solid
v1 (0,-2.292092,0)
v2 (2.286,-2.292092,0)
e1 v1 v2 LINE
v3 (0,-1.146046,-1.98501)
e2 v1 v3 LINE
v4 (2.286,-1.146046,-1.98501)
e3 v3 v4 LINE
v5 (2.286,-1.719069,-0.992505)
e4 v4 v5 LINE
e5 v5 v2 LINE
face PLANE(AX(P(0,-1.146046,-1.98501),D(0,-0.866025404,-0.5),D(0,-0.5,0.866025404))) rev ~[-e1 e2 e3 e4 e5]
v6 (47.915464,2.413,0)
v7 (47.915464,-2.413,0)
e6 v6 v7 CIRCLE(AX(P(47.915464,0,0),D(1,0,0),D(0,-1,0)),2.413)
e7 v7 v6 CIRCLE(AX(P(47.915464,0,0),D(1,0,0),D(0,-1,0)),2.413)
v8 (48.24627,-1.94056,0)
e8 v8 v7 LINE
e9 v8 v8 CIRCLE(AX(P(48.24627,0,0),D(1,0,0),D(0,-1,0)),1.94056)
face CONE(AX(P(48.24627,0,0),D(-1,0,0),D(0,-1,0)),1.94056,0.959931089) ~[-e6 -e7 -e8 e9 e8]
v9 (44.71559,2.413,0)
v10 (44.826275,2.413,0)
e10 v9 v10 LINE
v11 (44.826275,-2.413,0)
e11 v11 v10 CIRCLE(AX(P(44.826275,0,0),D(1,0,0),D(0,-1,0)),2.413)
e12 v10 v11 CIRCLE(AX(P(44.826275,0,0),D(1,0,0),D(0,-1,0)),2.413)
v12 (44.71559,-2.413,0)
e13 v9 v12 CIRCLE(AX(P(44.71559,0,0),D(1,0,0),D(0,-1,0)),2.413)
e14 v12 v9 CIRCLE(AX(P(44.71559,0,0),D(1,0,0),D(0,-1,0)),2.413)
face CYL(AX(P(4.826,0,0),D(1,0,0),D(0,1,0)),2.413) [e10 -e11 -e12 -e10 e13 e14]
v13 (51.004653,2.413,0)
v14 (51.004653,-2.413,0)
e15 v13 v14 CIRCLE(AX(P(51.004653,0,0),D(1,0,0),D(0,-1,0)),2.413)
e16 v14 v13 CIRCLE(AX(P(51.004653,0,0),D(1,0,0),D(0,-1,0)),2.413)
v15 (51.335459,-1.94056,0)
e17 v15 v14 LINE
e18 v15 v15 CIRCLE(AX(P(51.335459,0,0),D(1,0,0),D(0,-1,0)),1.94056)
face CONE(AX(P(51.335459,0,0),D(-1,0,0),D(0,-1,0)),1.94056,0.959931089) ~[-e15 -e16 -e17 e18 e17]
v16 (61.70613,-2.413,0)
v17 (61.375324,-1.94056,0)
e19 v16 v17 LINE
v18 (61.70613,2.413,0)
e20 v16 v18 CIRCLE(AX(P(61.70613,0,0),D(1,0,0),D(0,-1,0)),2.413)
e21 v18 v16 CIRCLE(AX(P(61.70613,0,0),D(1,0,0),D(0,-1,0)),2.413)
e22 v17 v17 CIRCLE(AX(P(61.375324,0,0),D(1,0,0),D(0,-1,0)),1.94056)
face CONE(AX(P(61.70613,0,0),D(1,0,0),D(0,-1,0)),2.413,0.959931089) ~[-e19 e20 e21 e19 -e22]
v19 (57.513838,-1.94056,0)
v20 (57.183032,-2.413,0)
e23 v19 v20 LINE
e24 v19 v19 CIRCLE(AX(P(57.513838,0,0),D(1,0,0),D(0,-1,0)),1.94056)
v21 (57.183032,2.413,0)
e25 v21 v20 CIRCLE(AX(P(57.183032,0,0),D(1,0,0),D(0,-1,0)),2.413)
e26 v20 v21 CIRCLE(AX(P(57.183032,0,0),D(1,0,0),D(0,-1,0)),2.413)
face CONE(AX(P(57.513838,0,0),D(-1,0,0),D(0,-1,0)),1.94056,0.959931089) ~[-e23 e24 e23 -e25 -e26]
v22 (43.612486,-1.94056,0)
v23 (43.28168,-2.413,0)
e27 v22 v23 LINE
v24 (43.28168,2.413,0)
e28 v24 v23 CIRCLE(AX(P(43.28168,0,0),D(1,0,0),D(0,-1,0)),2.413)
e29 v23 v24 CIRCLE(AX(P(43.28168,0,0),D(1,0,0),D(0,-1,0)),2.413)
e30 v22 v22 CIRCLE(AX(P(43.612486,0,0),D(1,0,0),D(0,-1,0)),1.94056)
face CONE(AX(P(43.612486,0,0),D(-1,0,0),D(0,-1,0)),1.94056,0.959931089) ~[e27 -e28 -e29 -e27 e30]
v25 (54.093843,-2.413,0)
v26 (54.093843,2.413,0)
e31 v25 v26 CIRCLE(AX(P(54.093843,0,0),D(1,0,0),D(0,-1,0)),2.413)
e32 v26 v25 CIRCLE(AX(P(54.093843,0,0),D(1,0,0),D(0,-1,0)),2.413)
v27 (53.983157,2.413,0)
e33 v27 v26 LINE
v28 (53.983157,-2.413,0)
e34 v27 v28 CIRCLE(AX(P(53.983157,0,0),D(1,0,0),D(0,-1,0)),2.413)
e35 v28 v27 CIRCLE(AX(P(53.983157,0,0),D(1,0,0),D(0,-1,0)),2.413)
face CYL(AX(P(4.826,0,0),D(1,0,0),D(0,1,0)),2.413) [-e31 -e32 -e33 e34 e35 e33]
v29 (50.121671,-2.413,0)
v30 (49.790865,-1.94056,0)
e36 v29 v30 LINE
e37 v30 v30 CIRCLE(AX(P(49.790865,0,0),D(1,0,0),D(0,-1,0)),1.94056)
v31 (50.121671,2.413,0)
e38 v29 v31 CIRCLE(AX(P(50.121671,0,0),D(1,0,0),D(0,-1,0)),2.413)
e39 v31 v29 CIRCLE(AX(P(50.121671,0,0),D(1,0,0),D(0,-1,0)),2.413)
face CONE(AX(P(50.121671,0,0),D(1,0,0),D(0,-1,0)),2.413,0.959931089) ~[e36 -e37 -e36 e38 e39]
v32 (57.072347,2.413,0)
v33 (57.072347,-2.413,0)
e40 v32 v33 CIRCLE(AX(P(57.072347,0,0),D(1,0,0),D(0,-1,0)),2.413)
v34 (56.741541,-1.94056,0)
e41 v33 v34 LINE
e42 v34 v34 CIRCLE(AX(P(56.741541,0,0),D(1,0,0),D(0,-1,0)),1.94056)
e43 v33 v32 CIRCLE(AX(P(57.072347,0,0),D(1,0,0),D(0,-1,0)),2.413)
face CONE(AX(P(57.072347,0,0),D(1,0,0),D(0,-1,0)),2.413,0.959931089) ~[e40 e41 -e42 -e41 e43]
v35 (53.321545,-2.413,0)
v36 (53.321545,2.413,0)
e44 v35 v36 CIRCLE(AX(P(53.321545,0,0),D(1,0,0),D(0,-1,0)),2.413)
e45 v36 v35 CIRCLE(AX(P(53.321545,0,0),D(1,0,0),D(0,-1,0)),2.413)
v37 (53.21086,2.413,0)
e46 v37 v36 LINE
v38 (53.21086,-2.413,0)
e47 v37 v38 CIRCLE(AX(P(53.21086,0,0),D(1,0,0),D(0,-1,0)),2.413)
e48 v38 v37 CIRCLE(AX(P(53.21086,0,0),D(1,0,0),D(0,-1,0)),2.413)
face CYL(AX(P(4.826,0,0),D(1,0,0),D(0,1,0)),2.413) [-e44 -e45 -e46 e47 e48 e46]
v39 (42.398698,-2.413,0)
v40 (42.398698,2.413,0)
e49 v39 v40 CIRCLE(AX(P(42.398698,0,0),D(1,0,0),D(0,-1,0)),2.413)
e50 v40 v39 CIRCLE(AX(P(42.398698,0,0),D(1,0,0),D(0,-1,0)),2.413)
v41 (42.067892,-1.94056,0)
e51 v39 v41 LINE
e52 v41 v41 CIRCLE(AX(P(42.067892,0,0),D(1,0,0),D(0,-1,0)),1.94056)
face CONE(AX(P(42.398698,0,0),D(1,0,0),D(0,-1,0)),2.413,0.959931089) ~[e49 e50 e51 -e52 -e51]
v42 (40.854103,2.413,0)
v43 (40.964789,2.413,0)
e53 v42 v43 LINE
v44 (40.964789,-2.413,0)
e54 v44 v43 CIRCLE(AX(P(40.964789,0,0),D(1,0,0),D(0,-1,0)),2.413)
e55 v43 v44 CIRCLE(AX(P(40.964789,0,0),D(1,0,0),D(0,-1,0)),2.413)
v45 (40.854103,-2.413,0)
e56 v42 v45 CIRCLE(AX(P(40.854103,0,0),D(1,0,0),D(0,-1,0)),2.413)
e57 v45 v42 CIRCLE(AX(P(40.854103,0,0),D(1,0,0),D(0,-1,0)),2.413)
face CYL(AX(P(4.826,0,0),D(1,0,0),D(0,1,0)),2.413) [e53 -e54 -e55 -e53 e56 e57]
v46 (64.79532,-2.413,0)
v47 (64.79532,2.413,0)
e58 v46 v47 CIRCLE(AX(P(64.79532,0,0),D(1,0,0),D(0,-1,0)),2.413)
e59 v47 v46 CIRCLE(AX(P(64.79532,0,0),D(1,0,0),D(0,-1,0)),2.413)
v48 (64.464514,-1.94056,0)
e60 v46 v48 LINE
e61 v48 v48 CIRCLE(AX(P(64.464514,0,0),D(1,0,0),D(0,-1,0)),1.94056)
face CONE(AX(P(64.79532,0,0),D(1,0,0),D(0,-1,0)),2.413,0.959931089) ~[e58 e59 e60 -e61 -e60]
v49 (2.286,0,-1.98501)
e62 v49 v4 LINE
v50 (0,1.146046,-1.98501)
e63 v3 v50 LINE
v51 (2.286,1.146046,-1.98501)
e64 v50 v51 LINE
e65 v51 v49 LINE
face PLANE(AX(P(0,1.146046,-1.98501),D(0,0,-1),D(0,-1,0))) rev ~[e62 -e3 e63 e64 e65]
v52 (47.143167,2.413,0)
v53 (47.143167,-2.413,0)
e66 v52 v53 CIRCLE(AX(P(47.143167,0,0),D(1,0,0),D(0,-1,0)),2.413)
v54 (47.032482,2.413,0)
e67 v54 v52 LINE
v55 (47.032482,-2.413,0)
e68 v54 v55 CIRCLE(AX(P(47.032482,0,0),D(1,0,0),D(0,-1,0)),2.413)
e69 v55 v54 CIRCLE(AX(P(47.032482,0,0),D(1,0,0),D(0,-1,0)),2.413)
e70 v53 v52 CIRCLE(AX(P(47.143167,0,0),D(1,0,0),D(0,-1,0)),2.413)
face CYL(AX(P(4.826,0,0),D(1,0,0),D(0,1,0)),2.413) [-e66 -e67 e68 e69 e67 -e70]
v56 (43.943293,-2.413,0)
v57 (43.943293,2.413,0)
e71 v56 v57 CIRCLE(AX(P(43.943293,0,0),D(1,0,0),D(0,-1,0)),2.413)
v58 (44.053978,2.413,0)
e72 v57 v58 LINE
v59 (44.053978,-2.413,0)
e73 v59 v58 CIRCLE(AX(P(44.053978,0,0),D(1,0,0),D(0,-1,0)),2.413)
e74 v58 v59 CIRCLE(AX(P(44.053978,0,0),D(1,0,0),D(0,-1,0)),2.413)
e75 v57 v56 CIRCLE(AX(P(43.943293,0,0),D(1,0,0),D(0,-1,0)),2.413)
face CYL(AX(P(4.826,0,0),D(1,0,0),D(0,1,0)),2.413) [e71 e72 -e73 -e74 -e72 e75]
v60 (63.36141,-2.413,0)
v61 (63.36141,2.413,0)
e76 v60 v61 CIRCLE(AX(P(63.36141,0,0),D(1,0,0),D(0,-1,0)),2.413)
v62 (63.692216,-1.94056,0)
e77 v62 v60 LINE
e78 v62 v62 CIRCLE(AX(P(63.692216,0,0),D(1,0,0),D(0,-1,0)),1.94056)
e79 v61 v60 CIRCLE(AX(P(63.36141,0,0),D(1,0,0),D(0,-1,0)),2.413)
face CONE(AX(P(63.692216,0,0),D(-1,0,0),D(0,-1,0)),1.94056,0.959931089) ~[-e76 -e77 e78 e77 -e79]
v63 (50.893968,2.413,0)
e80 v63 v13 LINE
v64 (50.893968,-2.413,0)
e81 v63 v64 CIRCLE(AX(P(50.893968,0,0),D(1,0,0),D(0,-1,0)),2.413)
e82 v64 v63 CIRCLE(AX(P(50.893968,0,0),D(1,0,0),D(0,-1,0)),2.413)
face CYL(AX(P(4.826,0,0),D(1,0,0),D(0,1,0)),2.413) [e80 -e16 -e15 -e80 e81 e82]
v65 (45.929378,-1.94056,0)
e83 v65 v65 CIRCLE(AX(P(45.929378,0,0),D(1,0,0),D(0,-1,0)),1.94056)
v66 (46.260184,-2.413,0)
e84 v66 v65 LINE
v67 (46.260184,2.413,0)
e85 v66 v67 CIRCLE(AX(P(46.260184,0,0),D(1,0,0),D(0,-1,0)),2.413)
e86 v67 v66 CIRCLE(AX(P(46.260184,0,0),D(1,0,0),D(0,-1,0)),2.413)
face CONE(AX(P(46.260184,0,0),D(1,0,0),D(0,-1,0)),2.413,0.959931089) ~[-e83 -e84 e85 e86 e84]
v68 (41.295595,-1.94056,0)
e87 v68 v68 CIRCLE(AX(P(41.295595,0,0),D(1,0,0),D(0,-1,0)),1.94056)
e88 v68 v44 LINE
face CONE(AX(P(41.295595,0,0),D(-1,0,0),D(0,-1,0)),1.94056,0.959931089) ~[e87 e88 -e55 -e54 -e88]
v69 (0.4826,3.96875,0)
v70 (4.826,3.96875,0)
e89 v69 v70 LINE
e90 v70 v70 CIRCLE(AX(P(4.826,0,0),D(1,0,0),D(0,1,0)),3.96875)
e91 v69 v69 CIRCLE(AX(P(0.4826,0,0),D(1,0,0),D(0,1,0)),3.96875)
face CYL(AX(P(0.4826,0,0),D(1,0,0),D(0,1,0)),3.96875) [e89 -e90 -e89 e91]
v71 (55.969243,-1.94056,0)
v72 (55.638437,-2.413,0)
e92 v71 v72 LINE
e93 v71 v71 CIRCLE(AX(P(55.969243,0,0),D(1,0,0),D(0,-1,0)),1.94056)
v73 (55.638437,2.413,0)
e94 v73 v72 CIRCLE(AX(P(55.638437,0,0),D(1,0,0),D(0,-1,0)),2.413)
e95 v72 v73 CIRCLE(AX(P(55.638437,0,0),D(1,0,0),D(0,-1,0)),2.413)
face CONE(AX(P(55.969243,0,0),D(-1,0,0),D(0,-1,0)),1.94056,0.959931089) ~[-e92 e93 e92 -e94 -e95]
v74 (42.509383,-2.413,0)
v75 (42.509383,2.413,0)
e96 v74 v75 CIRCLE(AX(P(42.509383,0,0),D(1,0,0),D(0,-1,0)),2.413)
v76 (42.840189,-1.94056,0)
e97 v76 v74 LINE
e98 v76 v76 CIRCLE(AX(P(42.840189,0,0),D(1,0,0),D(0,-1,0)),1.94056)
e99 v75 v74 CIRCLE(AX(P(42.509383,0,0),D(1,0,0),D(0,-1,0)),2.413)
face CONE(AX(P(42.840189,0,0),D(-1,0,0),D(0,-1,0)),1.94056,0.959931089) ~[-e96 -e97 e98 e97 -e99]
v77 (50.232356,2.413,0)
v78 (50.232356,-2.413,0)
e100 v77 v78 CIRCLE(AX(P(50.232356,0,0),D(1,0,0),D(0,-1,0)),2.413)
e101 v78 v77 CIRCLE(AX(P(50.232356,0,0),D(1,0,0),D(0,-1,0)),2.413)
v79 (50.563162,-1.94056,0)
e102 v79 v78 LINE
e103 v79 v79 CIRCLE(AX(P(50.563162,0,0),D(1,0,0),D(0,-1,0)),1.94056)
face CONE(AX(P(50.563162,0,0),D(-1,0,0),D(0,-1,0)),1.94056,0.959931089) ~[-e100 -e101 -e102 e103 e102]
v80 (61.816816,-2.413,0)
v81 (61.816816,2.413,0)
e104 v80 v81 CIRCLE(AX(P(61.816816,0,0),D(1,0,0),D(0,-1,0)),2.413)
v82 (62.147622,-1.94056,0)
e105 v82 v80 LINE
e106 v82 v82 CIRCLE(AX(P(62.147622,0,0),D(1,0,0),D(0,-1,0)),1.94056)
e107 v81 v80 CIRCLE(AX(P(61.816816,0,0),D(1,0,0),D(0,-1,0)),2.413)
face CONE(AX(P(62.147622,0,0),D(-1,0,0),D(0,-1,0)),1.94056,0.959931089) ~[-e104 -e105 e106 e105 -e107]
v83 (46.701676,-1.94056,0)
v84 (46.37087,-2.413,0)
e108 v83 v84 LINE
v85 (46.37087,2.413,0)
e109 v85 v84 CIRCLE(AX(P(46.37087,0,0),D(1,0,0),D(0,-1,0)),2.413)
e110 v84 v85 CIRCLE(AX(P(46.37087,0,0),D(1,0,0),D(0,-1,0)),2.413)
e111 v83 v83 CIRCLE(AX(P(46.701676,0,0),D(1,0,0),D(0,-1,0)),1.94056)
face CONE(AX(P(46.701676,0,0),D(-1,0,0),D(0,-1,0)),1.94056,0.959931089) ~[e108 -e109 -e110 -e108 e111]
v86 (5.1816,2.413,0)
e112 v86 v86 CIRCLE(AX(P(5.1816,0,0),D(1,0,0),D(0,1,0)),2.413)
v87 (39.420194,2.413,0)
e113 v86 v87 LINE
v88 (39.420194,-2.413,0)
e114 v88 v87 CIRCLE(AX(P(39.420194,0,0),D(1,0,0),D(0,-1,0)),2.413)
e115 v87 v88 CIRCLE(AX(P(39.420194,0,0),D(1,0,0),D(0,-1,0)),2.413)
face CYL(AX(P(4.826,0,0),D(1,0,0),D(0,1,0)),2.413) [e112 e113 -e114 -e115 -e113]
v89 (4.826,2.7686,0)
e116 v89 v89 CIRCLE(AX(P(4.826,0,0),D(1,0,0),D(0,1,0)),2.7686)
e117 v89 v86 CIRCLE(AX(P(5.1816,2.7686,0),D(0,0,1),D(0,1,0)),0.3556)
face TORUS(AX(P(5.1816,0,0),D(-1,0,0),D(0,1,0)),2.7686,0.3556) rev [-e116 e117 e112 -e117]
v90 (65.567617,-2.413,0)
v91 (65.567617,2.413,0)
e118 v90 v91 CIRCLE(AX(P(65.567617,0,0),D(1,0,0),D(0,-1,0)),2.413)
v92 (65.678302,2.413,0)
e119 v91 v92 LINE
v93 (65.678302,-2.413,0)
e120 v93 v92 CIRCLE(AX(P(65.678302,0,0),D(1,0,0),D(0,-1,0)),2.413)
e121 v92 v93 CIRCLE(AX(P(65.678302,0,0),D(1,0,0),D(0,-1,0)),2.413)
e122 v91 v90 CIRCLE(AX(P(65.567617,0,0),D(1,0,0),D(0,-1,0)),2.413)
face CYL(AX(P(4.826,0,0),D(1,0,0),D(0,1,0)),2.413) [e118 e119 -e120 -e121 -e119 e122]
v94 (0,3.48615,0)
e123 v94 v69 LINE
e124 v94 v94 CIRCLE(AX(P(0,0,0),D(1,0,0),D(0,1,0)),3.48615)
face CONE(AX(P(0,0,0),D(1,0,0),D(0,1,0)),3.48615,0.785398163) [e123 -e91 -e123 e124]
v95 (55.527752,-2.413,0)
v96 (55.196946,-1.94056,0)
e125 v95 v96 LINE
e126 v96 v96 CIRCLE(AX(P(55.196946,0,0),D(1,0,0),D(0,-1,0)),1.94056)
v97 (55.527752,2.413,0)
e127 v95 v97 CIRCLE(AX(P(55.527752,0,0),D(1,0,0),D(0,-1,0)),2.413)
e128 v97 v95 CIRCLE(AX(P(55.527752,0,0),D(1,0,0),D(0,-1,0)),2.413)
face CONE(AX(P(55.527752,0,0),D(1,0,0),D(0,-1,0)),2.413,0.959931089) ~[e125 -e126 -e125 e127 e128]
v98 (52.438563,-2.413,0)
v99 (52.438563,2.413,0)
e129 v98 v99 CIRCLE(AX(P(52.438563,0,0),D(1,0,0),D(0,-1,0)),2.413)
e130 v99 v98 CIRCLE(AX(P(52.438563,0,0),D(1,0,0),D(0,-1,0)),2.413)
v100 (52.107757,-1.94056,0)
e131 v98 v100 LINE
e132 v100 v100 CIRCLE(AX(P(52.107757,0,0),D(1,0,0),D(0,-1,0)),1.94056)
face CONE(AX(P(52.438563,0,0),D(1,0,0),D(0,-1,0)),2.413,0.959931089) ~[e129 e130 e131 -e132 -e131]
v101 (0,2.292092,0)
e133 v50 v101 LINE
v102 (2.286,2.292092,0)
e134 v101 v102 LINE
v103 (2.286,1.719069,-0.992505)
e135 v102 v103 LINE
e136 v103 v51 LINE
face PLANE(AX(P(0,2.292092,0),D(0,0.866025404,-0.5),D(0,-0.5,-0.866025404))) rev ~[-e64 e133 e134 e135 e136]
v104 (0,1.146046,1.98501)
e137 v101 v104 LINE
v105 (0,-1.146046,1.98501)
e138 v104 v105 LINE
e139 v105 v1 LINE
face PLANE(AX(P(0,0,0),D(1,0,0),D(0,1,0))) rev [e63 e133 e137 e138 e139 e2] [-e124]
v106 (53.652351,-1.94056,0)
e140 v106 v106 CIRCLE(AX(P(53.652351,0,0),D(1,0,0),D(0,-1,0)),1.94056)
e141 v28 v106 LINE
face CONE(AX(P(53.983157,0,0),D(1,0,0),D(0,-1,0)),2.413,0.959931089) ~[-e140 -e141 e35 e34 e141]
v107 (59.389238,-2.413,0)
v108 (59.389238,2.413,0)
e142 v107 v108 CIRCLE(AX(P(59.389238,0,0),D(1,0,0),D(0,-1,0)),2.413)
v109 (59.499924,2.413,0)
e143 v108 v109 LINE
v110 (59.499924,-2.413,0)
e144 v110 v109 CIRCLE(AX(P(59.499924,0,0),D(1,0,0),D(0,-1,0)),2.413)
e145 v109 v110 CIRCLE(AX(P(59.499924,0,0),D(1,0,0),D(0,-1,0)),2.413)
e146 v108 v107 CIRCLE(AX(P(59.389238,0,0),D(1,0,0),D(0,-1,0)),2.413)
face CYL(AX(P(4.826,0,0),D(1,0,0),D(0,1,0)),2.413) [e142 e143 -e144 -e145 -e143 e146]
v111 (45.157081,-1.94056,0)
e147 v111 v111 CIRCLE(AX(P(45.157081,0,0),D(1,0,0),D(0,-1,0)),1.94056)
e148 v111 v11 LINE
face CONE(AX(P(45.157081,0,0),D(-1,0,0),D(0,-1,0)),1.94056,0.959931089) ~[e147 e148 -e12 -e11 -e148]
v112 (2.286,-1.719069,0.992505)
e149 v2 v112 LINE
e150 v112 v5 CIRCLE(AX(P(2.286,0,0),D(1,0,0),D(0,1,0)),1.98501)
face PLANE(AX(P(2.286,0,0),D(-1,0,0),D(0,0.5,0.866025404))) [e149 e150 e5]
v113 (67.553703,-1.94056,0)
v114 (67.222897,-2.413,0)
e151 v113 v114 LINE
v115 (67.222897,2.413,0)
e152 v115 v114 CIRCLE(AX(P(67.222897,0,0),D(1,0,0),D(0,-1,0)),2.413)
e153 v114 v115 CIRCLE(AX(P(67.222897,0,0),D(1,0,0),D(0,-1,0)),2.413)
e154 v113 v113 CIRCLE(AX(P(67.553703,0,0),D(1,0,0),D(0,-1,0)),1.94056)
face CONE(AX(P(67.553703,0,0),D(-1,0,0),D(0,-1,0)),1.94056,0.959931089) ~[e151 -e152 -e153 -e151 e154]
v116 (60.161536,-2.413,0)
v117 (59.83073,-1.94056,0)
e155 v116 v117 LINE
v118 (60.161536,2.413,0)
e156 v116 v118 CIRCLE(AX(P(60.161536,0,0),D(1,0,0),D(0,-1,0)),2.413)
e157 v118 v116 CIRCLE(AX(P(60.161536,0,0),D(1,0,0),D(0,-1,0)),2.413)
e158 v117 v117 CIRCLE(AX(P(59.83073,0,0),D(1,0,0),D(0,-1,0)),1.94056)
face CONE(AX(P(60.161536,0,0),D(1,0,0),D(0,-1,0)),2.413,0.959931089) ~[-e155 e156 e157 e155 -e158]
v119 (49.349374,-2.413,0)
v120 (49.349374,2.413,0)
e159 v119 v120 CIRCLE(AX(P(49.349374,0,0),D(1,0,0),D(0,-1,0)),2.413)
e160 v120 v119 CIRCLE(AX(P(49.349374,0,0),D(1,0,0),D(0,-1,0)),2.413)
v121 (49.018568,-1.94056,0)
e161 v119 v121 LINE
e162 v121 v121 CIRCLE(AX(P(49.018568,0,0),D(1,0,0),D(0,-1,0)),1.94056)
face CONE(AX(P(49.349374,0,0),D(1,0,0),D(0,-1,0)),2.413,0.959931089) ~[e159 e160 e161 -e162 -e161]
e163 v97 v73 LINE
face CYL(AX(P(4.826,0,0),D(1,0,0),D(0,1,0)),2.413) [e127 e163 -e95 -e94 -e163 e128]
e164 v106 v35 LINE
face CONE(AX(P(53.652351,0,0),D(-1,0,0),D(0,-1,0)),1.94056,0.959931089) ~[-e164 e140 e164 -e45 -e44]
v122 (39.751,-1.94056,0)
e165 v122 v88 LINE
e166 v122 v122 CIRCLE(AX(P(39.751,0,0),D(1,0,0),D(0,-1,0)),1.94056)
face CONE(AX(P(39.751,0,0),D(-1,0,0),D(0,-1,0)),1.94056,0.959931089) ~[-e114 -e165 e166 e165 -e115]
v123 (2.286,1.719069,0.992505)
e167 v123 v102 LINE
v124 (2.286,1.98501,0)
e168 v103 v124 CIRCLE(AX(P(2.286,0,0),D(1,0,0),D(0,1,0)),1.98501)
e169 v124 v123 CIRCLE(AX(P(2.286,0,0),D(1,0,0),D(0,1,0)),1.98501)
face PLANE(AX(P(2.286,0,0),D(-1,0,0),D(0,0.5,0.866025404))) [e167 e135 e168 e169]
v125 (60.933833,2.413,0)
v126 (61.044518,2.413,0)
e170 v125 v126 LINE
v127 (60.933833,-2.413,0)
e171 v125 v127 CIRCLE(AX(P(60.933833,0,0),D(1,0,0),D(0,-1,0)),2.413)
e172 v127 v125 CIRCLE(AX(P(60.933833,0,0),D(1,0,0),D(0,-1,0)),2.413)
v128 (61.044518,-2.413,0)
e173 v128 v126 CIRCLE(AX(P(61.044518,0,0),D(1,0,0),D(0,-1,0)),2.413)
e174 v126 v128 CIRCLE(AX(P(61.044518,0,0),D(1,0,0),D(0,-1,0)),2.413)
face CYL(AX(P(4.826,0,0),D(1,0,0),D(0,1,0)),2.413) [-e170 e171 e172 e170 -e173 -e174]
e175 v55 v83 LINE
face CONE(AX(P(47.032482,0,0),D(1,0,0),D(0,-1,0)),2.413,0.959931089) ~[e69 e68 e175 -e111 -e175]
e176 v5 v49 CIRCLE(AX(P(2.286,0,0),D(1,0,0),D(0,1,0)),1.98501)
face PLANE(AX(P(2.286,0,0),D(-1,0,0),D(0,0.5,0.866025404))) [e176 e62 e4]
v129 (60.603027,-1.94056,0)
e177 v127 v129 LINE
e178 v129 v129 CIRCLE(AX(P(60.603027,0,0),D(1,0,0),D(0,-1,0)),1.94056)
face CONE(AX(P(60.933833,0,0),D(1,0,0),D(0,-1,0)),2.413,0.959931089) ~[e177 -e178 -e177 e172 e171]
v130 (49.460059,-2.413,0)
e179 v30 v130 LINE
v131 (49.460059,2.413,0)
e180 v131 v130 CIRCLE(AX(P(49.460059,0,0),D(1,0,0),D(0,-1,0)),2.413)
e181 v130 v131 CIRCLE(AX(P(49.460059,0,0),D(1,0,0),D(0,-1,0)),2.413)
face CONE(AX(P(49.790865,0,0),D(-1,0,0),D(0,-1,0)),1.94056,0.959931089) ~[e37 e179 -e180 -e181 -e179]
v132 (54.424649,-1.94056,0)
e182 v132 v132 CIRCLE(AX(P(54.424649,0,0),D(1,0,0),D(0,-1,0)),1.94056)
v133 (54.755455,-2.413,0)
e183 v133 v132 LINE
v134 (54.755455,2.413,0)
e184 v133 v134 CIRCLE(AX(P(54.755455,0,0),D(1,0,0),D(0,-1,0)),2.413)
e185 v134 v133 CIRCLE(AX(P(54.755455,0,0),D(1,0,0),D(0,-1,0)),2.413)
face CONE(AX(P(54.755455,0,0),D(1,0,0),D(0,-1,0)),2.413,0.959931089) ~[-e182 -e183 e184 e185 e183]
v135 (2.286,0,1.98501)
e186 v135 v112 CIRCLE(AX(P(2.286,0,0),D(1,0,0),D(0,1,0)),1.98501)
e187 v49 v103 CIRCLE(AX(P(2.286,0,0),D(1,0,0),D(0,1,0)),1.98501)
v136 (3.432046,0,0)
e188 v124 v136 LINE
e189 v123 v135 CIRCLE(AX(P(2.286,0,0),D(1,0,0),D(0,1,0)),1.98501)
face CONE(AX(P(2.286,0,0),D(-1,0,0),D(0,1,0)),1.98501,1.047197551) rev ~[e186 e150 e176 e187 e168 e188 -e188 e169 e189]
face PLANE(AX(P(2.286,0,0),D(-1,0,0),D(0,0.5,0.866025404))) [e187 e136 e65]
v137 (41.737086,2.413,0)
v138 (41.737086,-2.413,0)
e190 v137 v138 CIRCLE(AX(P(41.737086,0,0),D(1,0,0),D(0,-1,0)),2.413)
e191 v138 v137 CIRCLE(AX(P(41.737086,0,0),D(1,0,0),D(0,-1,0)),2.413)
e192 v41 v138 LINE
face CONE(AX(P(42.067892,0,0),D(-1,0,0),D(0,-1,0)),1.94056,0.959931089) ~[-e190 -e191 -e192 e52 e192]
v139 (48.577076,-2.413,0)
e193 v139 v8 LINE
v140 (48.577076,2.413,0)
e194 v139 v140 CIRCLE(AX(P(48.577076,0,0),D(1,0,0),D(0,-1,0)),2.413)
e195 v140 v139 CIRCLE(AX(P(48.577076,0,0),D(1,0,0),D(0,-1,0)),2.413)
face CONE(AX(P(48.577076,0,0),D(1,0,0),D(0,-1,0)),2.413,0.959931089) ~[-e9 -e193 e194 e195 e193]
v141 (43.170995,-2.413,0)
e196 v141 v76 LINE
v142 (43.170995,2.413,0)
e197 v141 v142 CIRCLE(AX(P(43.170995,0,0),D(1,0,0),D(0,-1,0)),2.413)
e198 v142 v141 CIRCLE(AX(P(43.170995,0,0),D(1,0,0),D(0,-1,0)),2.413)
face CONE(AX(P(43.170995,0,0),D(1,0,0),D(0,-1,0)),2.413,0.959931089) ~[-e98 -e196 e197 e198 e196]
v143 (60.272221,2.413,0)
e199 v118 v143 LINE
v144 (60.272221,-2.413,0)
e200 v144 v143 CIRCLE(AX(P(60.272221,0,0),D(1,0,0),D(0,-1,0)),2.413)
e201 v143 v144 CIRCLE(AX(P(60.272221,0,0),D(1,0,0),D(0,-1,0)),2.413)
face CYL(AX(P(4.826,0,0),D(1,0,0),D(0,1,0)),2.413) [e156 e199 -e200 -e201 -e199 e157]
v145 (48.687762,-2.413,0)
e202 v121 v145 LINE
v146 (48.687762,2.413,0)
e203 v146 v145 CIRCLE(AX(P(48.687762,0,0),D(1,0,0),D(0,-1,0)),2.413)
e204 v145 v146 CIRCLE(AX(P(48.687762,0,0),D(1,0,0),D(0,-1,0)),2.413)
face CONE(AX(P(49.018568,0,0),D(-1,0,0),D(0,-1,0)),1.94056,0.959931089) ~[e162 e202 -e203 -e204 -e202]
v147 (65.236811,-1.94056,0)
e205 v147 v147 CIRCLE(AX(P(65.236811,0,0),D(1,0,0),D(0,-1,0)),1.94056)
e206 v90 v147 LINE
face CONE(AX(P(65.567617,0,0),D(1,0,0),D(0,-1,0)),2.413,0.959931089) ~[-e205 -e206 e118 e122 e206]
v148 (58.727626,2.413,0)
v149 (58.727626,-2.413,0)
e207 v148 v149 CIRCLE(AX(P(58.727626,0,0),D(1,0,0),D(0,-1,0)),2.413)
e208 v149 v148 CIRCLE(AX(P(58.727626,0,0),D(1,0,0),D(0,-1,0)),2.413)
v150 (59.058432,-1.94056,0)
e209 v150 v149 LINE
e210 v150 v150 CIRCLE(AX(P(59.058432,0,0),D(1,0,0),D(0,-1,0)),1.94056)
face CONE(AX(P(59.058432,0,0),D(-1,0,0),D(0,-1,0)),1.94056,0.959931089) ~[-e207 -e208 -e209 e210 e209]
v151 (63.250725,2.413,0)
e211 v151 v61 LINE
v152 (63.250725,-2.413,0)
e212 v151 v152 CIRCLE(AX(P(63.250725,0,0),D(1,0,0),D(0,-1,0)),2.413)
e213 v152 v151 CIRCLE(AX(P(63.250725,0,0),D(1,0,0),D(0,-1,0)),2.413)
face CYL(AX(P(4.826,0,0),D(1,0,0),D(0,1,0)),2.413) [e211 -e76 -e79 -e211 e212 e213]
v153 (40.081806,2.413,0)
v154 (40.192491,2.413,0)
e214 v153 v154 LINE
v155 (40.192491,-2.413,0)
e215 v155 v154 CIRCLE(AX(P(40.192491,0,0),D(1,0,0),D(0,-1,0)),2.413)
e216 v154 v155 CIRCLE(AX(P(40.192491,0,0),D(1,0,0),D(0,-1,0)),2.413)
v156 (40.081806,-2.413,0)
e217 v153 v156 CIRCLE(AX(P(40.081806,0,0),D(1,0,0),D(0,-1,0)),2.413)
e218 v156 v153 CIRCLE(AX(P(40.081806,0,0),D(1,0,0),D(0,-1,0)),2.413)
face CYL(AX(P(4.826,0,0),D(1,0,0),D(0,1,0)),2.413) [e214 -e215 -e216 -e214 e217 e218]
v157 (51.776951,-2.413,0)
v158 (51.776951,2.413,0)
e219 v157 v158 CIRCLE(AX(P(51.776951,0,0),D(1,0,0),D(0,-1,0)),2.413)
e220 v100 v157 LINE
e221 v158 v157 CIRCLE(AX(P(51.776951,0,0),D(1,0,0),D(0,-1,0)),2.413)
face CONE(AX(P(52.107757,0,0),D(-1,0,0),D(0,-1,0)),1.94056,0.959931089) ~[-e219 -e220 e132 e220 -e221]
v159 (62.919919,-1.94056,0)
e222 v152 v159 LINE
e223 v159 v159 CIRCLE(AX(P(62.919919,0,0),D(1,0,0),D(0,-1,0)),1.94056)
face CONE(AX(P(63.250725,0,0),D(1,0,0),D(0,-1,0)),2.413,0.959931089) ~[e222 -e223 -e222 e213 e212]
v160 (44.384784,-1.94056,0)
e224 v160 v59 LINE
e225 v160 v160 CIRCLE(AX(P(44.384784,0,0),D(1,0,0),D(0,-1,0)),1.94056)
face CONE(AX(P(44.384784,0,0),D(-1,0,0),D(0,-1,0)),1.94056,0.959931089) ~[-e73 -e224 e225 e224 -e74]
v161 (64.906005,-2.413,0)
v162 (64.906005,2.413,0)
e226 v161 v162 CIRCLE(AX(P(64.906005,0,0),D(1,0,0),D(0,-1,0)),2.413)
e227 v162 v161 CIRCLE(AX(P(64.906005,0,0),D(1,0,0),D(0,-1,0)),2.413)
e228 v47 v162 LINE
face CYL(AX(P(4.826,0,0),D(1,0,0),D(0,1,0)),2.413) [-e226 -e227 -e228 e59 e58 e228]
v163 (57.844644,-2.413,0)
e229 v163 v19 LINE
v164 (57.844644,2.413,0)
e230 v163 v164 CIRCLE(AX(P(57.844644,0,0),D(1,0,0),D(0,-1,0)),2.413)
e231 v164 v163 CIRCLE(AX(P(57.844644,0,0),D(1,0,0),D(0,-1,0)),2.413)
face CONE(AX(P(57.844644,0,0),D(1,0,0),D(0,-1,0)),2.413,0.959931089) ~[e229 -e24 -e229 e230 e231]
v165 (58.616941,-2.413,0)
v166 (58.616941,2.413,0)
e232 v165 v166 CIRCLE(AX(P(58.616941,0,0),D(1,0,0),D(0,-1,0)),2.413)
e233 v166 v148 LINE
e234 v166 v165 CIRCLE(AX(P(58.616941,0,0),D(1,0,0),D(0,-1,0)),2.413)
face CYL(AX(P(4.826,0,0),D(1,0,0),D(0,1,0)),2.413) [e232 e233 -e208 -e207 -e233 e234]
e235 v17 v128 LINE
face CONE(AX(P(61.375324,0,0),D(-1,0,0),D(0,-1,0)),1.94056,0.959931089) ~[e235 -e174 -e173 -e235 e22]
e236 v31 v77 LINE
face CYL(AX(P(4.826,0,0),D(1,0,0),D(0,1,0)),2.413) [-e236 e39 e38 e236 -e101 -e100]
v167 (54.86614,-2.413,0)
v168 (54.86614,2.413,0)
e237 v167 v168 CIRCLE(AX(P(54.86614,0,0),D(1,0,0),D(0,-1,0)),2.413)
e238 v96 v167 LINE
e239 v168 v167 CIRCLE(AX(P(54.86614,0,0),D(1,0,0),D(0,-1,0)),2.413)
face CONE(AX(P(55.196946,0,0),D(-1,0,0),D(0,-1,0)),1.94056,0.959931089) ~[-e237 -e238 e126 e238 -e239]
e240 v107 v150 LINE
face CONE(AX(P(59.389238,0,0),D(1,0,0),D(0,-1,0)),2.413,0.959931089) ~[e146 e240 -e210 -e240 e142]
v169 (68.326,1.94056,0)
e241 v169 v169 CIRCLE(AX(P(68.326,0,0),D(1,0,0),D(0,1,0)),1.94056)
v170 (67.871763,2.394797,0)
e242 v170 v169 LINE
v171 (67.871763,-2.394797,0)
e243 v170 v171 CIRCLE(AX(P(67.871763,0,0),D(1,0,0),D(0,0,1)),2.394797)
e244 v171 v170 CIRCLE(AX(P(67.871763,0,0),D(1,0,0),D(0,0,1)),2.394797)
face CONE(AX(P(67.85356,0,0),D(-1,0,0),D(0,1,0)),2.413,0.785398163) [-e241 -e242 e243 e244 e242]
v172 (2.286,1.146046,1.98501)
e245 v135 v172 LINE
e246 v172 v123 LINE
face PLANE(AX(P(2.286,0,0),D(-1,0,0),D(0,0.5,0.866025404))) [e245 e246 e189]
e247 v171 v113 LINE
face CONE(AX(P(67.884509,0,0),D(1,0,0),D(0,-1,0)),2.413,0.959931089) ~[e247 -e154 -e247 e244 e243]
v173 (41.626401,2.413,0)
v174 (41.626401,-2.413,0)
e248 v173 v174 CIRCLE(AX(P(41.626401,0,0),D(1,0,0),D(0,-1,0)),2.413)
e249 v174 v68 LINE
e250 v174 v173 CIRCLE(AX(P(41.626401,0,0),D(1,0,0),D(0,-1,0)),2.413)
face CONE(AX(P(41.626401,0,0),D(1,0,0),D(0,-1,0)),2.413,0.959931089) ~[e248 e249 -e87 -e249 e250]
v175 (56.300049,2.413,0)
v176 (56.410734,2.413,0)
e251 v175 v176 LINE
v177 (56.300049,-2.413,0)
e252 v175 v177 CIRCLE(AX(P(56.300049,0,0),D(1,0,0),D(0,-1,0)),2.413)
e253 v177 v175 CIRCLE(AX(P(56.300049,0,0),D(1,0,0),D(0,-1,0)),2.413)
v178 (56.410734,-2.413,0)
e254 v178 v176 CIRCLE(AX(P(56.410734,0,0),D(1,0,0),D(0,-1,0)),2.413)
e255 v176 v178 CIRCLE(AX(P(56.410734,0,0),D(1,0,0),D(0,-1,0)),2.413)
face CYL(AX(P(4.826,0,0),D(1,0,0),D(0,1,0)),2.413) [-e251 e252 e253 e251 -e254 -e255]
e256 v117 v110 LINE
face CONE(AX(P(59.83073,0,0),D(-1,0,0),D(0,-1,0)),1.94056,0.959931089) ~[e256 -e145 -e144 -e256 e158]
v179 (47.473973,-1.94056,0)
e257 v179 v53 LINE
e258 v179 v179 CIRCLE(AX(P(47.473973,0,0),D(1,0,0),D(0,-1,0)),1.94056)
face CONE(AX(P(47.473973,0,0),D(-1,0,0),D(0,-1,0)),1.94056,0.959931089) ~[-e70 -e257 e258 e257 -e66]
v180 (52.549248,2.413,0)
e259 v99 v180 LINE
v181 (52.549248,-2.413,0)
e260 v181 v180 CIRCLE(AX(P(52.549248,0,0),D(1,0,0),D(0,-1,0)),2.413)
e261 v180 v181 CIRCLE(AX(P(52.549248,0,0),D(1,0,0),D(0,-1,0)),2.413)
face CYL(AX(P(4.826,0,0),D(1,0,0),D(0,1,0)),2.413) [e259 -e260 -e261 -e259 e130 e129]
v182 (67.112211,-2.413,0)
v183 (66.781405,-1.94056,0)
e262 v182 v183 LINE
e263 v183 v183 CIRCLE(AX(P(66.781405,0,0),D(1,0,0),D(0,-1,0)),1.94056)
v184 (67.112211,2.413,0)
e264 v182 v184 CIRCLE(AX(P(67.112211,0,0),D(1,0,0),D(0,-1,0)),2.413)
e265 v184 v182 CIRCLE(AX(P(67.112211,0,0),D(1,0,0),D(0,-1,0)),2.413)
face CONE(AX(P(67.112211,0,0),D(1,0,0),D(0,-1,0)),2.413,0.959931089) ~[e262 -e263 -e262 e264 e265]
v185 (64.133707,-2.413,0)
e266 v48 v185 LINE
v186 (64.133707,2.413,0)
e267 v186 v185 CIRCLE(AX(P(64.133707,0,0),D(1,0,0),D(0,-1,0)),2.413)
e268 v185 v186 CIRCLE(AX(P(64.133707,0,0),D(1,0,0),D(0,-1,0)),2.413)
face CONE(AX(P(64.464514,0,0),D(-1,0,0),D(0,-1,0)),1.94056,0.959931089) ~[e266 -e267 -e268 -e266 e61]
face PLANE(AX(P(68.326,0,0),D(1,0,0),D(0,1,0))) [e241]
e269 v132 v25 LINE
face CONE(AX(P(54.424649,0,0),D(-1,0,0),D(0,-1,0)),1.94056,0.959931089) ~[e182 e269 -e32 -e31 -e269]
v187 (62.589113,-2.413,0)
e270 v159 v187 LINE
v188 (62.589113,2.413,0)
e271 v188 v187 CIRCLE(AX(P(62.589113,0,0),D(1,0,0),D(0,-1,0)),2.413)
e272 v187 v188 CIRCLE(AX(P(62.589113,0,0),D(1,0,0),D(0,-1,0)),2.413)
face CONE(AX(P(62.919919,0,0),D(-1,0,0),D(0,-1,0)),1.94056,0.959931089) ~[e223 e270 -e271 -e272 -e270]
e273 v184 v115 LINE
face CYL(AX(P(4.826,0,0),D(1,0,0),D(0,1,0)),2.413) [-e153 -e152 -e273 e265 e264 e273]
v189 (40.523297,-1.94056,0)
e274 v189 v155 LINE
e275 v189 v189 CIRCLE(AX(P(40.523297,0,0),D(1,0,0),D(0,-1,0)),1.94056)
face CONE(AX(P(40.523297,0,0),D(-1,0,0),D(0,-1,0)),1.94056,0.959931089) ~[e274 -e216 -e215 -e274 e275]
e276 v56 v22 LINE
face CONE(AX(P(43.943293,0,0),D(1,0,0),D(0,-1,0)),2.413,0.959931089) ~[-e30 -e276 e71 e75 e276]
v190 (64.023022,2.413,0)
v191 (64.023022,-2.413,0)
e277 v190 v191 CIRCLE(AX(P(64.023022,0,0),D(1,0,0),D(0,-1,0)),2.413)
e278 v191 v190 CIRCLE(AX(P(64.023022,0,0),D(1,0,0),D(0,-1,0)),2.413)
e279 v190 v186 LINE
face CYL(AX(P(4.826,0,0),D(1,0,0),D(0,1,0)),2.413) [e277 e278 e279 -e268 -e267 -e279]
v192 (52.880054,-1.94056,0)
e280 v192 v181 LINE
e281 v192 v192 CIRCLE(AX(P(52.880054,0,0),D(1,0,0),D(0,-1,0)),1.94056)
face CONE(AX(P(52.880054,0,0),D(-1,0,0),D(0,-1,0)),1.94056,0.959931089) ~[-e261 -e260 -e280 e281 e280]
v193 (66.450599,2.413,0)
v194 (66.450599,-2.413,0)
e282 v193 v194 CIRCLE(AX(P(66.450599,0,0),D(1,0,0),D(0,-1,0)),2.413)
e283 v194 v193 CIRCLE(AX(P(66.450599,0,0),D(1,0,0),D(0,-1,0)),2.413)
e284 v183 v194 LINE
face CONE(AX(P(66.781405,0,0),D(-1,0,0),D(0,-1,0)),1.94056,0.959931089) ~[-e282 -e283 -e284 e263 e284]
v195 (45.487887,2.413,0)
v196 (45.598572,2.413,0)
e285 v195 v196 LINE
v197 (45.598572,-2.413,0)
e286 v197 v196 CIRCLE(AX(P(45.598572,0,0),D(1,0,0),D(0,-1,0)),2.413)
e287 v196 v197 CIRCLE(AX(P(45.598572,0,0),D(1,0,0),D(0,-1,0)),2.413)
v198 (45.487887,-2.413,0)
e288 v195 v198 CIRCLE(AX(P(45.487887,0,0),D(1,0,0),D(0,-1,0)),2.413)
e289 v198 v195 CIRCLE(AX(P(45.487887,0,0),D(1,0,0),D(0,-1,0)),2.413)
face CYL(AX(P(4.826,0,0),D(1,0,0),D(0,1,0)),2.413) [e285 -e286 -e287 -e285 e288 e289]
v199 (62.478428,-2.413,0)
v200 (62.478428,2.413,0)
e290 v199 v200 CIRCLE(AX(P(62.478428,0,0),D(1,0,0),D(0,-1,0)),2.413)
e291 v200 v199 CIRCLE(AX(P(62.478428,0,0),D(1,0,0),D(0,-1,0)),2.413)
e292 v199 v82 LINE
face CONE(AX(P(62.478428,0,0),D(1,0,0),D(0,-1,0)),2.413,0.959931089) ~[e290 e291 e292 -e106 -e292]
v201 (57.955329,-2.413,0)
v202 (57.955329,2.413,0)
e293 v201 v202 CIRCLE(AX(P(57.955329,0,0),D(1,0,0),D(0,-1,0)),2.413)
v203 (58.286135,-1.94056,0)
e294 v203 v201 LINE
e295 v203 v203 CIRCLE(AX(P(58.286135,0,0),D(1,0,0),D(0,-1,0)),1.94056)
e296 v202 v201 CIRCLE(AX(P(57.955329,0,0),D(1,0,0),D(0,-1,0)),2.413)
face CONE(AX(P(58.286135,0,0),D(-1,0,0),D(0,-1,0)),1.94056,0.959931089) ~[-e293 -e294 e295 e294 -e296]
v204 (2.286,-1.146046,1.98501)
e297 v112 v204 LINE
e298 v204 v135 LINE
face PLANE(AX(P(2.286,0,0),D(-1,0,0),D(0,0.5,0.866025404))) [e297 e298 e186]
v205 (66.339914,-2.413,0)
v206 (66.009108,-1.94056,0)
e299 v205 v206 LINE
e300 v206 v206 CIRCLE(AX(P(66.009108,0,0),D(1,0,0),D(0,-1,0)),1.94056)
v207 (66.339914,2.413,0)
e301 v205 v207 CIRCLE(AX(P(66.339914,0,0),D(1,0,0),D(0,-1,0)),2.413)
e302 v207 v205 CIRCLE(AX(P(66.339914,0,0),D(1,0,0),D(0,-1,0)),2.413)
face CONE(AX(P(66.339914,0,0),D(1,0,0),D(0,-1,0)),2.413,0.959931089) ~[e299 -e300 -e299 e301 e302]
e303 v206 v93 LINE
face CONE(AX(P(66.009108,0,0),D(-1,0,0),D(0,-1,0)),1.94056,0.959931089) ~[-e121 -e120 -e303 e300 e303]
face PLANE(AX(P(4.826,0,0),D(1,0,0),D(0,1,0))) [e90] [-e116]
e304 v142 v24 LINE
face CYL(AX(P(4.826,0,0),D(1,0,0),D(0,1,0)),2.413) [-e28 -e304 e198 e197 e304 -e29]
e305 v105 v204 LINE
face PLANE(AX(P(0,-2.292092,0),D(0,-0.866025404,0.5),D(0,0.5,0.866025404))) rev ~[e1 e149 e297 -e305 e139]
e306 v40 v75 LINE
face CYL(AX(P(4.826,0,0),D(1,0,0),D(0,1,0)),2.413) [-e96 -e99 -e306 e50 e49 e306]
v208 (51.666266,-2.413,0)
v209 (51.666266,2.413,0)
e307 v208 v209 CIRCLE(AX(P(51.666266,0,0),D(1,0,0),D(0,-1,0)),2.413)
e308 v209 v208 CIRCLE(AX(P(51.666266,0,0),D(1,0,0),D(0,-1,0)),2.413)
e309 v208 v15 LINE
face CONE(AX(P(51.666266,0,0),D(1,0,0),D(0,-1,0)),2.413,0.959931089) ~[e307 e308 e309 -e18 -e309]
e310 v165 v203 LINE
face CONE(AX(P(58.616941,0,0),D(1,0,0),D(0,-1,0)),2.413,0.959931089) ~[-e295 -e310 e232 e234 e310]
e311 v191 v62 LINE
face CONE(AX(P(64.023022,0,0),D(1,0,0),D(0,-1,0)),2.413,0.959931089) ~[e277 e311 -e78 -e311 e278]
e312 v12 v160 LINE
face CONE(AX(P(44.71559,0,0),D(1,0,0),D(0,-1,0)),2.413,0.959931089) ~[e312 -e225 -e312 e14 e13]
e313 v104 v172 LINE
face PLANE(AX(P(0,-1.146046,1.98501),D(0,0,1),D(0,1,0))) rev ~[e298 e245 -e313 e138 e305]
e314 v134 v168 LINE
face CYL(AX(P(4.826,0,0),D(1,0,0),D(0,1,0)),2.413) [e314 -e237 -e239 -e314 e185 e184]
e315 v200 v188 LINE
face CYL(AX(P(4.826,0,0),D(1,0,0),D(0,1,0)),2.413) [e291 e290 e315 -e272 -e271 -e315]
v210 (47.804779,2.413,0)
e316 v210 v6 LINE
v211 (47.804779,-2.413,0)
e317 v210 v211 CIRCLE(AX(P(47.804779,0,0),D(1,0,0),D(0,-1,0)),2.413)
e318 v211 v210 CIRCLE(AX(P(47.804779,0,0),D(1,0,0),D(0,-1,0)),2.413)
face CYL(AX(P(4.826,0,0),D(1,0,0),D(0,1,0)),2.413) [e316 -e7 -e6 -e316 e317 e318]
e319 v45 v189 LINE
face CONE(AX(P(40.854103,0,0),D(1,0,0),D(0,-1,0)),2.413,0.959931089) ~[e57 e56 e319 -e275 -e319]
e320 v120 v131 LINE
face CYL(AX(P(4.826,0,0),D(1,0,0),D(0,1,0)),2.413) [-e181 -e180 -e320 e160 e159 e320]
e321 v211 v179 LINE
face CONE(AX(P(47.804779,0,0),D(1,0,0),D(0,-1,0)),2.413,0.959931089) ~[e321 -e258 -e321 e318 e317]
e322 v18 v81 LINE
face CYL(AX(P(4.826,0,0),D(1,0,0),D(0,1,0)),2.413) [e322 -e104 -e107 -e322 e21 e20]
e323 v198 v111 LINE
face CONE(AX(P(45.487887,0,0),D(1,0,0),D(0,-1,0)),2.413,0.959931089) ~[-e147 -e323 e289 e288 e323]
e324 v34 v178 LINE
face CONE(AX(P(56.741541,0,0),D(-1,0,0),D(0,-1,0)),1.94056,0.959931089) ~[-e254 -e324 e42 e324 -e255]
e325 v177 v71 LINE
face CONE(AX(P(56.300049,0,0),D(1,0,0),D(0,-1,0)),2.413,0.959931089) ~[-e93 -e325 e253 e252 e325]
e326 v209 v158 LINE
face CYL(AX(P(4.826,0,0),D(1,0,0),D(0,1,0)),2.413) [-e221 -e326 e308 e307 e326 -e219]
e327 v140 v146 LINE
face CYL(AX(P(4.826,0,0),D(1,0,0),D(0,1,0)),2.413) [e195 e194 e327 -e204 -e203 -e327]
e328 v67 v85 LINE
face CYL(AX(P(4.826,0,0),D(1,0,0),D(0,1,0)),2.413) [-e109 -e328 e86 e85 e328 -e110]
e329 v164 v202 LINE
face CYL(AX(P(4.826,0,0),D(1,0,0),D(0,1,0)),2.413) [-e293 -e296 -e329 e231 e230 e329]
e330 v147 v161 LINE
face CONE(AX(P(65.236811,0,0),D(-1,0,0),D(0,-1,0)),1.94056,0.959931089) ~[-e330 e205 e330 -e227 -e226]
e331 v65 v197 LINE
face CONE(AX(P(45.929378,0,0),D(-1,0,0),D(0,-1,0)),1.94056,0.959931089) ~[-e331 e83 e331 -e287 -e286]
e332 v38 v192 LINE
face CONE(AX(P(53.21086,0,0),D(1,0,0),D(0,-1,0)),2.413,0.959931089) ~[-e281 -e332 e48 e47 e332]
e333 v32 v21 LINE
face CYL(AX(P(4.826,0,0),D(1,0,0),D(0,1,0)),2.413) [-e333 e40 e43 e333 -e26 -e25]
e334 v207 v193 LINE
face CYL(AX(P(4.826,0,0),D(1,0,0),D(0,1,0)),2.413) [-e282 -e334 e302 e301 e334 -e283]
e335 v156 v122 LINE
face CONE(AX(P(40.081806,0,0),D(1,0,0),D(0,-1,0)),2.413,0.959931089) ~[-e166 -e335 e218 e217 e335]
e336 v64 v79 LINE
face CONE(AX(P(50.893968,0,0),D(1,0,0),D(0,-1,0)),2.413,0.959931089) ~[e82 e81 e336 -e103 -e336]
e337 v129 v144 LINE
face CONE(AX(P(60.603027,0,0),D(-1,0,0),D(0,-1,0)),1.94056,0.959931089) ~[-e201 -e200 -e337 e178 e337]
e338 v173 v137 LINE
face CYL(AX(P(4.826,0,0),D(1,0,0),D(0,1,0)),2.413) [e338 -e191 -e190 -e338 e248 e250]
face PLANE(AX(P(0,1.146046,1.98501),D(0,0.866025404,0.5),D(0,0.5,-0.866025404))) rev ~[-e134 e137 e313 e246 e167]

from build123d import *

# Parameters (mm, degrees)
FILLET1_R       = 0.3556
HEX_2_DEPTH     = 2.286
THDSCHPAT_COUNT = 37
THDSCHPAT_PITCH = 0.772297297


with BuildPart() as part:
    # BodySke → Base-Revolve (revolve)
    with BuildSketch(Plane.XY):
        Polygon((0, 0), (0, 3.48615), (0.4826, 3.96875), (4.826, 3.96875), (4.826, 2.413), (67.85356, 2.413), (68.326, 1.94056), (68.326, 0), align=None)
    revolve(axis=Axis((-31.75, 0, 0), (1, 0, 0)))

    # Fillet1
    fillet1_edges = [part.edges().sort_by_distance(p)[0] for p in [
        (4.826, -2.413, 0),
    ]]
    fillet(fillet1_edges, radius=FILLET1_R)

    # Sketch2 → Hex-PreBroach (revolve, cut)
    with BuildSketch(Plane.XY):
        Polygon((0, 1.98501), (2.286, 1.98501), (3.432046058, 0), (0, 0), align=None)
    revolve(axis=Axis((0, 0, 0), (1, 0, 0)), mode=Mode.SUBTRACT)

    # Sketch3 → Hex 2 (cut)
    with BuildSketch(Plane(origin=(0, 0, 0), x_dir=(0, 0.5, 0.866025404), z_dir=(-1, 0, 0))):
        Polygon((1.146046058, 1.98501), (-1.146046058, 1.98501), (-2.292092116, 0), (-1.146046058, -1.98501), (1.146046058, -1.98501), (2.292092116, 0), align=None)
    extrude(amount=-HEX_2_DEPTH, mode=Mode.SUBTRACT)

    # ThdSchSke → ThreadSchematic (revolve, cut)
    with BuildSketch(Plane.XY):
        Polygon((39.751, -1.94056), (39.420193951, -2.413), (39.420193951, -3.01625), (40.081806049, -3.01625), (40.081806049, -2.413), align=None)
    threadschematic = revolve(axis=Axis((-3.175, 0, 0), (1, 0, 0)), mode=Mode.SUBTRACT)

    # ThdSchPat: ThreadSchematic ×37
    with Locations(*[(i * THDSCHPAT_PITCH, 0, 0) for i in range(1, THDSCHPAT_COUNT)]):
        add(threadschematic, mode=Mode.SUBTRACT)


solid = part.part
